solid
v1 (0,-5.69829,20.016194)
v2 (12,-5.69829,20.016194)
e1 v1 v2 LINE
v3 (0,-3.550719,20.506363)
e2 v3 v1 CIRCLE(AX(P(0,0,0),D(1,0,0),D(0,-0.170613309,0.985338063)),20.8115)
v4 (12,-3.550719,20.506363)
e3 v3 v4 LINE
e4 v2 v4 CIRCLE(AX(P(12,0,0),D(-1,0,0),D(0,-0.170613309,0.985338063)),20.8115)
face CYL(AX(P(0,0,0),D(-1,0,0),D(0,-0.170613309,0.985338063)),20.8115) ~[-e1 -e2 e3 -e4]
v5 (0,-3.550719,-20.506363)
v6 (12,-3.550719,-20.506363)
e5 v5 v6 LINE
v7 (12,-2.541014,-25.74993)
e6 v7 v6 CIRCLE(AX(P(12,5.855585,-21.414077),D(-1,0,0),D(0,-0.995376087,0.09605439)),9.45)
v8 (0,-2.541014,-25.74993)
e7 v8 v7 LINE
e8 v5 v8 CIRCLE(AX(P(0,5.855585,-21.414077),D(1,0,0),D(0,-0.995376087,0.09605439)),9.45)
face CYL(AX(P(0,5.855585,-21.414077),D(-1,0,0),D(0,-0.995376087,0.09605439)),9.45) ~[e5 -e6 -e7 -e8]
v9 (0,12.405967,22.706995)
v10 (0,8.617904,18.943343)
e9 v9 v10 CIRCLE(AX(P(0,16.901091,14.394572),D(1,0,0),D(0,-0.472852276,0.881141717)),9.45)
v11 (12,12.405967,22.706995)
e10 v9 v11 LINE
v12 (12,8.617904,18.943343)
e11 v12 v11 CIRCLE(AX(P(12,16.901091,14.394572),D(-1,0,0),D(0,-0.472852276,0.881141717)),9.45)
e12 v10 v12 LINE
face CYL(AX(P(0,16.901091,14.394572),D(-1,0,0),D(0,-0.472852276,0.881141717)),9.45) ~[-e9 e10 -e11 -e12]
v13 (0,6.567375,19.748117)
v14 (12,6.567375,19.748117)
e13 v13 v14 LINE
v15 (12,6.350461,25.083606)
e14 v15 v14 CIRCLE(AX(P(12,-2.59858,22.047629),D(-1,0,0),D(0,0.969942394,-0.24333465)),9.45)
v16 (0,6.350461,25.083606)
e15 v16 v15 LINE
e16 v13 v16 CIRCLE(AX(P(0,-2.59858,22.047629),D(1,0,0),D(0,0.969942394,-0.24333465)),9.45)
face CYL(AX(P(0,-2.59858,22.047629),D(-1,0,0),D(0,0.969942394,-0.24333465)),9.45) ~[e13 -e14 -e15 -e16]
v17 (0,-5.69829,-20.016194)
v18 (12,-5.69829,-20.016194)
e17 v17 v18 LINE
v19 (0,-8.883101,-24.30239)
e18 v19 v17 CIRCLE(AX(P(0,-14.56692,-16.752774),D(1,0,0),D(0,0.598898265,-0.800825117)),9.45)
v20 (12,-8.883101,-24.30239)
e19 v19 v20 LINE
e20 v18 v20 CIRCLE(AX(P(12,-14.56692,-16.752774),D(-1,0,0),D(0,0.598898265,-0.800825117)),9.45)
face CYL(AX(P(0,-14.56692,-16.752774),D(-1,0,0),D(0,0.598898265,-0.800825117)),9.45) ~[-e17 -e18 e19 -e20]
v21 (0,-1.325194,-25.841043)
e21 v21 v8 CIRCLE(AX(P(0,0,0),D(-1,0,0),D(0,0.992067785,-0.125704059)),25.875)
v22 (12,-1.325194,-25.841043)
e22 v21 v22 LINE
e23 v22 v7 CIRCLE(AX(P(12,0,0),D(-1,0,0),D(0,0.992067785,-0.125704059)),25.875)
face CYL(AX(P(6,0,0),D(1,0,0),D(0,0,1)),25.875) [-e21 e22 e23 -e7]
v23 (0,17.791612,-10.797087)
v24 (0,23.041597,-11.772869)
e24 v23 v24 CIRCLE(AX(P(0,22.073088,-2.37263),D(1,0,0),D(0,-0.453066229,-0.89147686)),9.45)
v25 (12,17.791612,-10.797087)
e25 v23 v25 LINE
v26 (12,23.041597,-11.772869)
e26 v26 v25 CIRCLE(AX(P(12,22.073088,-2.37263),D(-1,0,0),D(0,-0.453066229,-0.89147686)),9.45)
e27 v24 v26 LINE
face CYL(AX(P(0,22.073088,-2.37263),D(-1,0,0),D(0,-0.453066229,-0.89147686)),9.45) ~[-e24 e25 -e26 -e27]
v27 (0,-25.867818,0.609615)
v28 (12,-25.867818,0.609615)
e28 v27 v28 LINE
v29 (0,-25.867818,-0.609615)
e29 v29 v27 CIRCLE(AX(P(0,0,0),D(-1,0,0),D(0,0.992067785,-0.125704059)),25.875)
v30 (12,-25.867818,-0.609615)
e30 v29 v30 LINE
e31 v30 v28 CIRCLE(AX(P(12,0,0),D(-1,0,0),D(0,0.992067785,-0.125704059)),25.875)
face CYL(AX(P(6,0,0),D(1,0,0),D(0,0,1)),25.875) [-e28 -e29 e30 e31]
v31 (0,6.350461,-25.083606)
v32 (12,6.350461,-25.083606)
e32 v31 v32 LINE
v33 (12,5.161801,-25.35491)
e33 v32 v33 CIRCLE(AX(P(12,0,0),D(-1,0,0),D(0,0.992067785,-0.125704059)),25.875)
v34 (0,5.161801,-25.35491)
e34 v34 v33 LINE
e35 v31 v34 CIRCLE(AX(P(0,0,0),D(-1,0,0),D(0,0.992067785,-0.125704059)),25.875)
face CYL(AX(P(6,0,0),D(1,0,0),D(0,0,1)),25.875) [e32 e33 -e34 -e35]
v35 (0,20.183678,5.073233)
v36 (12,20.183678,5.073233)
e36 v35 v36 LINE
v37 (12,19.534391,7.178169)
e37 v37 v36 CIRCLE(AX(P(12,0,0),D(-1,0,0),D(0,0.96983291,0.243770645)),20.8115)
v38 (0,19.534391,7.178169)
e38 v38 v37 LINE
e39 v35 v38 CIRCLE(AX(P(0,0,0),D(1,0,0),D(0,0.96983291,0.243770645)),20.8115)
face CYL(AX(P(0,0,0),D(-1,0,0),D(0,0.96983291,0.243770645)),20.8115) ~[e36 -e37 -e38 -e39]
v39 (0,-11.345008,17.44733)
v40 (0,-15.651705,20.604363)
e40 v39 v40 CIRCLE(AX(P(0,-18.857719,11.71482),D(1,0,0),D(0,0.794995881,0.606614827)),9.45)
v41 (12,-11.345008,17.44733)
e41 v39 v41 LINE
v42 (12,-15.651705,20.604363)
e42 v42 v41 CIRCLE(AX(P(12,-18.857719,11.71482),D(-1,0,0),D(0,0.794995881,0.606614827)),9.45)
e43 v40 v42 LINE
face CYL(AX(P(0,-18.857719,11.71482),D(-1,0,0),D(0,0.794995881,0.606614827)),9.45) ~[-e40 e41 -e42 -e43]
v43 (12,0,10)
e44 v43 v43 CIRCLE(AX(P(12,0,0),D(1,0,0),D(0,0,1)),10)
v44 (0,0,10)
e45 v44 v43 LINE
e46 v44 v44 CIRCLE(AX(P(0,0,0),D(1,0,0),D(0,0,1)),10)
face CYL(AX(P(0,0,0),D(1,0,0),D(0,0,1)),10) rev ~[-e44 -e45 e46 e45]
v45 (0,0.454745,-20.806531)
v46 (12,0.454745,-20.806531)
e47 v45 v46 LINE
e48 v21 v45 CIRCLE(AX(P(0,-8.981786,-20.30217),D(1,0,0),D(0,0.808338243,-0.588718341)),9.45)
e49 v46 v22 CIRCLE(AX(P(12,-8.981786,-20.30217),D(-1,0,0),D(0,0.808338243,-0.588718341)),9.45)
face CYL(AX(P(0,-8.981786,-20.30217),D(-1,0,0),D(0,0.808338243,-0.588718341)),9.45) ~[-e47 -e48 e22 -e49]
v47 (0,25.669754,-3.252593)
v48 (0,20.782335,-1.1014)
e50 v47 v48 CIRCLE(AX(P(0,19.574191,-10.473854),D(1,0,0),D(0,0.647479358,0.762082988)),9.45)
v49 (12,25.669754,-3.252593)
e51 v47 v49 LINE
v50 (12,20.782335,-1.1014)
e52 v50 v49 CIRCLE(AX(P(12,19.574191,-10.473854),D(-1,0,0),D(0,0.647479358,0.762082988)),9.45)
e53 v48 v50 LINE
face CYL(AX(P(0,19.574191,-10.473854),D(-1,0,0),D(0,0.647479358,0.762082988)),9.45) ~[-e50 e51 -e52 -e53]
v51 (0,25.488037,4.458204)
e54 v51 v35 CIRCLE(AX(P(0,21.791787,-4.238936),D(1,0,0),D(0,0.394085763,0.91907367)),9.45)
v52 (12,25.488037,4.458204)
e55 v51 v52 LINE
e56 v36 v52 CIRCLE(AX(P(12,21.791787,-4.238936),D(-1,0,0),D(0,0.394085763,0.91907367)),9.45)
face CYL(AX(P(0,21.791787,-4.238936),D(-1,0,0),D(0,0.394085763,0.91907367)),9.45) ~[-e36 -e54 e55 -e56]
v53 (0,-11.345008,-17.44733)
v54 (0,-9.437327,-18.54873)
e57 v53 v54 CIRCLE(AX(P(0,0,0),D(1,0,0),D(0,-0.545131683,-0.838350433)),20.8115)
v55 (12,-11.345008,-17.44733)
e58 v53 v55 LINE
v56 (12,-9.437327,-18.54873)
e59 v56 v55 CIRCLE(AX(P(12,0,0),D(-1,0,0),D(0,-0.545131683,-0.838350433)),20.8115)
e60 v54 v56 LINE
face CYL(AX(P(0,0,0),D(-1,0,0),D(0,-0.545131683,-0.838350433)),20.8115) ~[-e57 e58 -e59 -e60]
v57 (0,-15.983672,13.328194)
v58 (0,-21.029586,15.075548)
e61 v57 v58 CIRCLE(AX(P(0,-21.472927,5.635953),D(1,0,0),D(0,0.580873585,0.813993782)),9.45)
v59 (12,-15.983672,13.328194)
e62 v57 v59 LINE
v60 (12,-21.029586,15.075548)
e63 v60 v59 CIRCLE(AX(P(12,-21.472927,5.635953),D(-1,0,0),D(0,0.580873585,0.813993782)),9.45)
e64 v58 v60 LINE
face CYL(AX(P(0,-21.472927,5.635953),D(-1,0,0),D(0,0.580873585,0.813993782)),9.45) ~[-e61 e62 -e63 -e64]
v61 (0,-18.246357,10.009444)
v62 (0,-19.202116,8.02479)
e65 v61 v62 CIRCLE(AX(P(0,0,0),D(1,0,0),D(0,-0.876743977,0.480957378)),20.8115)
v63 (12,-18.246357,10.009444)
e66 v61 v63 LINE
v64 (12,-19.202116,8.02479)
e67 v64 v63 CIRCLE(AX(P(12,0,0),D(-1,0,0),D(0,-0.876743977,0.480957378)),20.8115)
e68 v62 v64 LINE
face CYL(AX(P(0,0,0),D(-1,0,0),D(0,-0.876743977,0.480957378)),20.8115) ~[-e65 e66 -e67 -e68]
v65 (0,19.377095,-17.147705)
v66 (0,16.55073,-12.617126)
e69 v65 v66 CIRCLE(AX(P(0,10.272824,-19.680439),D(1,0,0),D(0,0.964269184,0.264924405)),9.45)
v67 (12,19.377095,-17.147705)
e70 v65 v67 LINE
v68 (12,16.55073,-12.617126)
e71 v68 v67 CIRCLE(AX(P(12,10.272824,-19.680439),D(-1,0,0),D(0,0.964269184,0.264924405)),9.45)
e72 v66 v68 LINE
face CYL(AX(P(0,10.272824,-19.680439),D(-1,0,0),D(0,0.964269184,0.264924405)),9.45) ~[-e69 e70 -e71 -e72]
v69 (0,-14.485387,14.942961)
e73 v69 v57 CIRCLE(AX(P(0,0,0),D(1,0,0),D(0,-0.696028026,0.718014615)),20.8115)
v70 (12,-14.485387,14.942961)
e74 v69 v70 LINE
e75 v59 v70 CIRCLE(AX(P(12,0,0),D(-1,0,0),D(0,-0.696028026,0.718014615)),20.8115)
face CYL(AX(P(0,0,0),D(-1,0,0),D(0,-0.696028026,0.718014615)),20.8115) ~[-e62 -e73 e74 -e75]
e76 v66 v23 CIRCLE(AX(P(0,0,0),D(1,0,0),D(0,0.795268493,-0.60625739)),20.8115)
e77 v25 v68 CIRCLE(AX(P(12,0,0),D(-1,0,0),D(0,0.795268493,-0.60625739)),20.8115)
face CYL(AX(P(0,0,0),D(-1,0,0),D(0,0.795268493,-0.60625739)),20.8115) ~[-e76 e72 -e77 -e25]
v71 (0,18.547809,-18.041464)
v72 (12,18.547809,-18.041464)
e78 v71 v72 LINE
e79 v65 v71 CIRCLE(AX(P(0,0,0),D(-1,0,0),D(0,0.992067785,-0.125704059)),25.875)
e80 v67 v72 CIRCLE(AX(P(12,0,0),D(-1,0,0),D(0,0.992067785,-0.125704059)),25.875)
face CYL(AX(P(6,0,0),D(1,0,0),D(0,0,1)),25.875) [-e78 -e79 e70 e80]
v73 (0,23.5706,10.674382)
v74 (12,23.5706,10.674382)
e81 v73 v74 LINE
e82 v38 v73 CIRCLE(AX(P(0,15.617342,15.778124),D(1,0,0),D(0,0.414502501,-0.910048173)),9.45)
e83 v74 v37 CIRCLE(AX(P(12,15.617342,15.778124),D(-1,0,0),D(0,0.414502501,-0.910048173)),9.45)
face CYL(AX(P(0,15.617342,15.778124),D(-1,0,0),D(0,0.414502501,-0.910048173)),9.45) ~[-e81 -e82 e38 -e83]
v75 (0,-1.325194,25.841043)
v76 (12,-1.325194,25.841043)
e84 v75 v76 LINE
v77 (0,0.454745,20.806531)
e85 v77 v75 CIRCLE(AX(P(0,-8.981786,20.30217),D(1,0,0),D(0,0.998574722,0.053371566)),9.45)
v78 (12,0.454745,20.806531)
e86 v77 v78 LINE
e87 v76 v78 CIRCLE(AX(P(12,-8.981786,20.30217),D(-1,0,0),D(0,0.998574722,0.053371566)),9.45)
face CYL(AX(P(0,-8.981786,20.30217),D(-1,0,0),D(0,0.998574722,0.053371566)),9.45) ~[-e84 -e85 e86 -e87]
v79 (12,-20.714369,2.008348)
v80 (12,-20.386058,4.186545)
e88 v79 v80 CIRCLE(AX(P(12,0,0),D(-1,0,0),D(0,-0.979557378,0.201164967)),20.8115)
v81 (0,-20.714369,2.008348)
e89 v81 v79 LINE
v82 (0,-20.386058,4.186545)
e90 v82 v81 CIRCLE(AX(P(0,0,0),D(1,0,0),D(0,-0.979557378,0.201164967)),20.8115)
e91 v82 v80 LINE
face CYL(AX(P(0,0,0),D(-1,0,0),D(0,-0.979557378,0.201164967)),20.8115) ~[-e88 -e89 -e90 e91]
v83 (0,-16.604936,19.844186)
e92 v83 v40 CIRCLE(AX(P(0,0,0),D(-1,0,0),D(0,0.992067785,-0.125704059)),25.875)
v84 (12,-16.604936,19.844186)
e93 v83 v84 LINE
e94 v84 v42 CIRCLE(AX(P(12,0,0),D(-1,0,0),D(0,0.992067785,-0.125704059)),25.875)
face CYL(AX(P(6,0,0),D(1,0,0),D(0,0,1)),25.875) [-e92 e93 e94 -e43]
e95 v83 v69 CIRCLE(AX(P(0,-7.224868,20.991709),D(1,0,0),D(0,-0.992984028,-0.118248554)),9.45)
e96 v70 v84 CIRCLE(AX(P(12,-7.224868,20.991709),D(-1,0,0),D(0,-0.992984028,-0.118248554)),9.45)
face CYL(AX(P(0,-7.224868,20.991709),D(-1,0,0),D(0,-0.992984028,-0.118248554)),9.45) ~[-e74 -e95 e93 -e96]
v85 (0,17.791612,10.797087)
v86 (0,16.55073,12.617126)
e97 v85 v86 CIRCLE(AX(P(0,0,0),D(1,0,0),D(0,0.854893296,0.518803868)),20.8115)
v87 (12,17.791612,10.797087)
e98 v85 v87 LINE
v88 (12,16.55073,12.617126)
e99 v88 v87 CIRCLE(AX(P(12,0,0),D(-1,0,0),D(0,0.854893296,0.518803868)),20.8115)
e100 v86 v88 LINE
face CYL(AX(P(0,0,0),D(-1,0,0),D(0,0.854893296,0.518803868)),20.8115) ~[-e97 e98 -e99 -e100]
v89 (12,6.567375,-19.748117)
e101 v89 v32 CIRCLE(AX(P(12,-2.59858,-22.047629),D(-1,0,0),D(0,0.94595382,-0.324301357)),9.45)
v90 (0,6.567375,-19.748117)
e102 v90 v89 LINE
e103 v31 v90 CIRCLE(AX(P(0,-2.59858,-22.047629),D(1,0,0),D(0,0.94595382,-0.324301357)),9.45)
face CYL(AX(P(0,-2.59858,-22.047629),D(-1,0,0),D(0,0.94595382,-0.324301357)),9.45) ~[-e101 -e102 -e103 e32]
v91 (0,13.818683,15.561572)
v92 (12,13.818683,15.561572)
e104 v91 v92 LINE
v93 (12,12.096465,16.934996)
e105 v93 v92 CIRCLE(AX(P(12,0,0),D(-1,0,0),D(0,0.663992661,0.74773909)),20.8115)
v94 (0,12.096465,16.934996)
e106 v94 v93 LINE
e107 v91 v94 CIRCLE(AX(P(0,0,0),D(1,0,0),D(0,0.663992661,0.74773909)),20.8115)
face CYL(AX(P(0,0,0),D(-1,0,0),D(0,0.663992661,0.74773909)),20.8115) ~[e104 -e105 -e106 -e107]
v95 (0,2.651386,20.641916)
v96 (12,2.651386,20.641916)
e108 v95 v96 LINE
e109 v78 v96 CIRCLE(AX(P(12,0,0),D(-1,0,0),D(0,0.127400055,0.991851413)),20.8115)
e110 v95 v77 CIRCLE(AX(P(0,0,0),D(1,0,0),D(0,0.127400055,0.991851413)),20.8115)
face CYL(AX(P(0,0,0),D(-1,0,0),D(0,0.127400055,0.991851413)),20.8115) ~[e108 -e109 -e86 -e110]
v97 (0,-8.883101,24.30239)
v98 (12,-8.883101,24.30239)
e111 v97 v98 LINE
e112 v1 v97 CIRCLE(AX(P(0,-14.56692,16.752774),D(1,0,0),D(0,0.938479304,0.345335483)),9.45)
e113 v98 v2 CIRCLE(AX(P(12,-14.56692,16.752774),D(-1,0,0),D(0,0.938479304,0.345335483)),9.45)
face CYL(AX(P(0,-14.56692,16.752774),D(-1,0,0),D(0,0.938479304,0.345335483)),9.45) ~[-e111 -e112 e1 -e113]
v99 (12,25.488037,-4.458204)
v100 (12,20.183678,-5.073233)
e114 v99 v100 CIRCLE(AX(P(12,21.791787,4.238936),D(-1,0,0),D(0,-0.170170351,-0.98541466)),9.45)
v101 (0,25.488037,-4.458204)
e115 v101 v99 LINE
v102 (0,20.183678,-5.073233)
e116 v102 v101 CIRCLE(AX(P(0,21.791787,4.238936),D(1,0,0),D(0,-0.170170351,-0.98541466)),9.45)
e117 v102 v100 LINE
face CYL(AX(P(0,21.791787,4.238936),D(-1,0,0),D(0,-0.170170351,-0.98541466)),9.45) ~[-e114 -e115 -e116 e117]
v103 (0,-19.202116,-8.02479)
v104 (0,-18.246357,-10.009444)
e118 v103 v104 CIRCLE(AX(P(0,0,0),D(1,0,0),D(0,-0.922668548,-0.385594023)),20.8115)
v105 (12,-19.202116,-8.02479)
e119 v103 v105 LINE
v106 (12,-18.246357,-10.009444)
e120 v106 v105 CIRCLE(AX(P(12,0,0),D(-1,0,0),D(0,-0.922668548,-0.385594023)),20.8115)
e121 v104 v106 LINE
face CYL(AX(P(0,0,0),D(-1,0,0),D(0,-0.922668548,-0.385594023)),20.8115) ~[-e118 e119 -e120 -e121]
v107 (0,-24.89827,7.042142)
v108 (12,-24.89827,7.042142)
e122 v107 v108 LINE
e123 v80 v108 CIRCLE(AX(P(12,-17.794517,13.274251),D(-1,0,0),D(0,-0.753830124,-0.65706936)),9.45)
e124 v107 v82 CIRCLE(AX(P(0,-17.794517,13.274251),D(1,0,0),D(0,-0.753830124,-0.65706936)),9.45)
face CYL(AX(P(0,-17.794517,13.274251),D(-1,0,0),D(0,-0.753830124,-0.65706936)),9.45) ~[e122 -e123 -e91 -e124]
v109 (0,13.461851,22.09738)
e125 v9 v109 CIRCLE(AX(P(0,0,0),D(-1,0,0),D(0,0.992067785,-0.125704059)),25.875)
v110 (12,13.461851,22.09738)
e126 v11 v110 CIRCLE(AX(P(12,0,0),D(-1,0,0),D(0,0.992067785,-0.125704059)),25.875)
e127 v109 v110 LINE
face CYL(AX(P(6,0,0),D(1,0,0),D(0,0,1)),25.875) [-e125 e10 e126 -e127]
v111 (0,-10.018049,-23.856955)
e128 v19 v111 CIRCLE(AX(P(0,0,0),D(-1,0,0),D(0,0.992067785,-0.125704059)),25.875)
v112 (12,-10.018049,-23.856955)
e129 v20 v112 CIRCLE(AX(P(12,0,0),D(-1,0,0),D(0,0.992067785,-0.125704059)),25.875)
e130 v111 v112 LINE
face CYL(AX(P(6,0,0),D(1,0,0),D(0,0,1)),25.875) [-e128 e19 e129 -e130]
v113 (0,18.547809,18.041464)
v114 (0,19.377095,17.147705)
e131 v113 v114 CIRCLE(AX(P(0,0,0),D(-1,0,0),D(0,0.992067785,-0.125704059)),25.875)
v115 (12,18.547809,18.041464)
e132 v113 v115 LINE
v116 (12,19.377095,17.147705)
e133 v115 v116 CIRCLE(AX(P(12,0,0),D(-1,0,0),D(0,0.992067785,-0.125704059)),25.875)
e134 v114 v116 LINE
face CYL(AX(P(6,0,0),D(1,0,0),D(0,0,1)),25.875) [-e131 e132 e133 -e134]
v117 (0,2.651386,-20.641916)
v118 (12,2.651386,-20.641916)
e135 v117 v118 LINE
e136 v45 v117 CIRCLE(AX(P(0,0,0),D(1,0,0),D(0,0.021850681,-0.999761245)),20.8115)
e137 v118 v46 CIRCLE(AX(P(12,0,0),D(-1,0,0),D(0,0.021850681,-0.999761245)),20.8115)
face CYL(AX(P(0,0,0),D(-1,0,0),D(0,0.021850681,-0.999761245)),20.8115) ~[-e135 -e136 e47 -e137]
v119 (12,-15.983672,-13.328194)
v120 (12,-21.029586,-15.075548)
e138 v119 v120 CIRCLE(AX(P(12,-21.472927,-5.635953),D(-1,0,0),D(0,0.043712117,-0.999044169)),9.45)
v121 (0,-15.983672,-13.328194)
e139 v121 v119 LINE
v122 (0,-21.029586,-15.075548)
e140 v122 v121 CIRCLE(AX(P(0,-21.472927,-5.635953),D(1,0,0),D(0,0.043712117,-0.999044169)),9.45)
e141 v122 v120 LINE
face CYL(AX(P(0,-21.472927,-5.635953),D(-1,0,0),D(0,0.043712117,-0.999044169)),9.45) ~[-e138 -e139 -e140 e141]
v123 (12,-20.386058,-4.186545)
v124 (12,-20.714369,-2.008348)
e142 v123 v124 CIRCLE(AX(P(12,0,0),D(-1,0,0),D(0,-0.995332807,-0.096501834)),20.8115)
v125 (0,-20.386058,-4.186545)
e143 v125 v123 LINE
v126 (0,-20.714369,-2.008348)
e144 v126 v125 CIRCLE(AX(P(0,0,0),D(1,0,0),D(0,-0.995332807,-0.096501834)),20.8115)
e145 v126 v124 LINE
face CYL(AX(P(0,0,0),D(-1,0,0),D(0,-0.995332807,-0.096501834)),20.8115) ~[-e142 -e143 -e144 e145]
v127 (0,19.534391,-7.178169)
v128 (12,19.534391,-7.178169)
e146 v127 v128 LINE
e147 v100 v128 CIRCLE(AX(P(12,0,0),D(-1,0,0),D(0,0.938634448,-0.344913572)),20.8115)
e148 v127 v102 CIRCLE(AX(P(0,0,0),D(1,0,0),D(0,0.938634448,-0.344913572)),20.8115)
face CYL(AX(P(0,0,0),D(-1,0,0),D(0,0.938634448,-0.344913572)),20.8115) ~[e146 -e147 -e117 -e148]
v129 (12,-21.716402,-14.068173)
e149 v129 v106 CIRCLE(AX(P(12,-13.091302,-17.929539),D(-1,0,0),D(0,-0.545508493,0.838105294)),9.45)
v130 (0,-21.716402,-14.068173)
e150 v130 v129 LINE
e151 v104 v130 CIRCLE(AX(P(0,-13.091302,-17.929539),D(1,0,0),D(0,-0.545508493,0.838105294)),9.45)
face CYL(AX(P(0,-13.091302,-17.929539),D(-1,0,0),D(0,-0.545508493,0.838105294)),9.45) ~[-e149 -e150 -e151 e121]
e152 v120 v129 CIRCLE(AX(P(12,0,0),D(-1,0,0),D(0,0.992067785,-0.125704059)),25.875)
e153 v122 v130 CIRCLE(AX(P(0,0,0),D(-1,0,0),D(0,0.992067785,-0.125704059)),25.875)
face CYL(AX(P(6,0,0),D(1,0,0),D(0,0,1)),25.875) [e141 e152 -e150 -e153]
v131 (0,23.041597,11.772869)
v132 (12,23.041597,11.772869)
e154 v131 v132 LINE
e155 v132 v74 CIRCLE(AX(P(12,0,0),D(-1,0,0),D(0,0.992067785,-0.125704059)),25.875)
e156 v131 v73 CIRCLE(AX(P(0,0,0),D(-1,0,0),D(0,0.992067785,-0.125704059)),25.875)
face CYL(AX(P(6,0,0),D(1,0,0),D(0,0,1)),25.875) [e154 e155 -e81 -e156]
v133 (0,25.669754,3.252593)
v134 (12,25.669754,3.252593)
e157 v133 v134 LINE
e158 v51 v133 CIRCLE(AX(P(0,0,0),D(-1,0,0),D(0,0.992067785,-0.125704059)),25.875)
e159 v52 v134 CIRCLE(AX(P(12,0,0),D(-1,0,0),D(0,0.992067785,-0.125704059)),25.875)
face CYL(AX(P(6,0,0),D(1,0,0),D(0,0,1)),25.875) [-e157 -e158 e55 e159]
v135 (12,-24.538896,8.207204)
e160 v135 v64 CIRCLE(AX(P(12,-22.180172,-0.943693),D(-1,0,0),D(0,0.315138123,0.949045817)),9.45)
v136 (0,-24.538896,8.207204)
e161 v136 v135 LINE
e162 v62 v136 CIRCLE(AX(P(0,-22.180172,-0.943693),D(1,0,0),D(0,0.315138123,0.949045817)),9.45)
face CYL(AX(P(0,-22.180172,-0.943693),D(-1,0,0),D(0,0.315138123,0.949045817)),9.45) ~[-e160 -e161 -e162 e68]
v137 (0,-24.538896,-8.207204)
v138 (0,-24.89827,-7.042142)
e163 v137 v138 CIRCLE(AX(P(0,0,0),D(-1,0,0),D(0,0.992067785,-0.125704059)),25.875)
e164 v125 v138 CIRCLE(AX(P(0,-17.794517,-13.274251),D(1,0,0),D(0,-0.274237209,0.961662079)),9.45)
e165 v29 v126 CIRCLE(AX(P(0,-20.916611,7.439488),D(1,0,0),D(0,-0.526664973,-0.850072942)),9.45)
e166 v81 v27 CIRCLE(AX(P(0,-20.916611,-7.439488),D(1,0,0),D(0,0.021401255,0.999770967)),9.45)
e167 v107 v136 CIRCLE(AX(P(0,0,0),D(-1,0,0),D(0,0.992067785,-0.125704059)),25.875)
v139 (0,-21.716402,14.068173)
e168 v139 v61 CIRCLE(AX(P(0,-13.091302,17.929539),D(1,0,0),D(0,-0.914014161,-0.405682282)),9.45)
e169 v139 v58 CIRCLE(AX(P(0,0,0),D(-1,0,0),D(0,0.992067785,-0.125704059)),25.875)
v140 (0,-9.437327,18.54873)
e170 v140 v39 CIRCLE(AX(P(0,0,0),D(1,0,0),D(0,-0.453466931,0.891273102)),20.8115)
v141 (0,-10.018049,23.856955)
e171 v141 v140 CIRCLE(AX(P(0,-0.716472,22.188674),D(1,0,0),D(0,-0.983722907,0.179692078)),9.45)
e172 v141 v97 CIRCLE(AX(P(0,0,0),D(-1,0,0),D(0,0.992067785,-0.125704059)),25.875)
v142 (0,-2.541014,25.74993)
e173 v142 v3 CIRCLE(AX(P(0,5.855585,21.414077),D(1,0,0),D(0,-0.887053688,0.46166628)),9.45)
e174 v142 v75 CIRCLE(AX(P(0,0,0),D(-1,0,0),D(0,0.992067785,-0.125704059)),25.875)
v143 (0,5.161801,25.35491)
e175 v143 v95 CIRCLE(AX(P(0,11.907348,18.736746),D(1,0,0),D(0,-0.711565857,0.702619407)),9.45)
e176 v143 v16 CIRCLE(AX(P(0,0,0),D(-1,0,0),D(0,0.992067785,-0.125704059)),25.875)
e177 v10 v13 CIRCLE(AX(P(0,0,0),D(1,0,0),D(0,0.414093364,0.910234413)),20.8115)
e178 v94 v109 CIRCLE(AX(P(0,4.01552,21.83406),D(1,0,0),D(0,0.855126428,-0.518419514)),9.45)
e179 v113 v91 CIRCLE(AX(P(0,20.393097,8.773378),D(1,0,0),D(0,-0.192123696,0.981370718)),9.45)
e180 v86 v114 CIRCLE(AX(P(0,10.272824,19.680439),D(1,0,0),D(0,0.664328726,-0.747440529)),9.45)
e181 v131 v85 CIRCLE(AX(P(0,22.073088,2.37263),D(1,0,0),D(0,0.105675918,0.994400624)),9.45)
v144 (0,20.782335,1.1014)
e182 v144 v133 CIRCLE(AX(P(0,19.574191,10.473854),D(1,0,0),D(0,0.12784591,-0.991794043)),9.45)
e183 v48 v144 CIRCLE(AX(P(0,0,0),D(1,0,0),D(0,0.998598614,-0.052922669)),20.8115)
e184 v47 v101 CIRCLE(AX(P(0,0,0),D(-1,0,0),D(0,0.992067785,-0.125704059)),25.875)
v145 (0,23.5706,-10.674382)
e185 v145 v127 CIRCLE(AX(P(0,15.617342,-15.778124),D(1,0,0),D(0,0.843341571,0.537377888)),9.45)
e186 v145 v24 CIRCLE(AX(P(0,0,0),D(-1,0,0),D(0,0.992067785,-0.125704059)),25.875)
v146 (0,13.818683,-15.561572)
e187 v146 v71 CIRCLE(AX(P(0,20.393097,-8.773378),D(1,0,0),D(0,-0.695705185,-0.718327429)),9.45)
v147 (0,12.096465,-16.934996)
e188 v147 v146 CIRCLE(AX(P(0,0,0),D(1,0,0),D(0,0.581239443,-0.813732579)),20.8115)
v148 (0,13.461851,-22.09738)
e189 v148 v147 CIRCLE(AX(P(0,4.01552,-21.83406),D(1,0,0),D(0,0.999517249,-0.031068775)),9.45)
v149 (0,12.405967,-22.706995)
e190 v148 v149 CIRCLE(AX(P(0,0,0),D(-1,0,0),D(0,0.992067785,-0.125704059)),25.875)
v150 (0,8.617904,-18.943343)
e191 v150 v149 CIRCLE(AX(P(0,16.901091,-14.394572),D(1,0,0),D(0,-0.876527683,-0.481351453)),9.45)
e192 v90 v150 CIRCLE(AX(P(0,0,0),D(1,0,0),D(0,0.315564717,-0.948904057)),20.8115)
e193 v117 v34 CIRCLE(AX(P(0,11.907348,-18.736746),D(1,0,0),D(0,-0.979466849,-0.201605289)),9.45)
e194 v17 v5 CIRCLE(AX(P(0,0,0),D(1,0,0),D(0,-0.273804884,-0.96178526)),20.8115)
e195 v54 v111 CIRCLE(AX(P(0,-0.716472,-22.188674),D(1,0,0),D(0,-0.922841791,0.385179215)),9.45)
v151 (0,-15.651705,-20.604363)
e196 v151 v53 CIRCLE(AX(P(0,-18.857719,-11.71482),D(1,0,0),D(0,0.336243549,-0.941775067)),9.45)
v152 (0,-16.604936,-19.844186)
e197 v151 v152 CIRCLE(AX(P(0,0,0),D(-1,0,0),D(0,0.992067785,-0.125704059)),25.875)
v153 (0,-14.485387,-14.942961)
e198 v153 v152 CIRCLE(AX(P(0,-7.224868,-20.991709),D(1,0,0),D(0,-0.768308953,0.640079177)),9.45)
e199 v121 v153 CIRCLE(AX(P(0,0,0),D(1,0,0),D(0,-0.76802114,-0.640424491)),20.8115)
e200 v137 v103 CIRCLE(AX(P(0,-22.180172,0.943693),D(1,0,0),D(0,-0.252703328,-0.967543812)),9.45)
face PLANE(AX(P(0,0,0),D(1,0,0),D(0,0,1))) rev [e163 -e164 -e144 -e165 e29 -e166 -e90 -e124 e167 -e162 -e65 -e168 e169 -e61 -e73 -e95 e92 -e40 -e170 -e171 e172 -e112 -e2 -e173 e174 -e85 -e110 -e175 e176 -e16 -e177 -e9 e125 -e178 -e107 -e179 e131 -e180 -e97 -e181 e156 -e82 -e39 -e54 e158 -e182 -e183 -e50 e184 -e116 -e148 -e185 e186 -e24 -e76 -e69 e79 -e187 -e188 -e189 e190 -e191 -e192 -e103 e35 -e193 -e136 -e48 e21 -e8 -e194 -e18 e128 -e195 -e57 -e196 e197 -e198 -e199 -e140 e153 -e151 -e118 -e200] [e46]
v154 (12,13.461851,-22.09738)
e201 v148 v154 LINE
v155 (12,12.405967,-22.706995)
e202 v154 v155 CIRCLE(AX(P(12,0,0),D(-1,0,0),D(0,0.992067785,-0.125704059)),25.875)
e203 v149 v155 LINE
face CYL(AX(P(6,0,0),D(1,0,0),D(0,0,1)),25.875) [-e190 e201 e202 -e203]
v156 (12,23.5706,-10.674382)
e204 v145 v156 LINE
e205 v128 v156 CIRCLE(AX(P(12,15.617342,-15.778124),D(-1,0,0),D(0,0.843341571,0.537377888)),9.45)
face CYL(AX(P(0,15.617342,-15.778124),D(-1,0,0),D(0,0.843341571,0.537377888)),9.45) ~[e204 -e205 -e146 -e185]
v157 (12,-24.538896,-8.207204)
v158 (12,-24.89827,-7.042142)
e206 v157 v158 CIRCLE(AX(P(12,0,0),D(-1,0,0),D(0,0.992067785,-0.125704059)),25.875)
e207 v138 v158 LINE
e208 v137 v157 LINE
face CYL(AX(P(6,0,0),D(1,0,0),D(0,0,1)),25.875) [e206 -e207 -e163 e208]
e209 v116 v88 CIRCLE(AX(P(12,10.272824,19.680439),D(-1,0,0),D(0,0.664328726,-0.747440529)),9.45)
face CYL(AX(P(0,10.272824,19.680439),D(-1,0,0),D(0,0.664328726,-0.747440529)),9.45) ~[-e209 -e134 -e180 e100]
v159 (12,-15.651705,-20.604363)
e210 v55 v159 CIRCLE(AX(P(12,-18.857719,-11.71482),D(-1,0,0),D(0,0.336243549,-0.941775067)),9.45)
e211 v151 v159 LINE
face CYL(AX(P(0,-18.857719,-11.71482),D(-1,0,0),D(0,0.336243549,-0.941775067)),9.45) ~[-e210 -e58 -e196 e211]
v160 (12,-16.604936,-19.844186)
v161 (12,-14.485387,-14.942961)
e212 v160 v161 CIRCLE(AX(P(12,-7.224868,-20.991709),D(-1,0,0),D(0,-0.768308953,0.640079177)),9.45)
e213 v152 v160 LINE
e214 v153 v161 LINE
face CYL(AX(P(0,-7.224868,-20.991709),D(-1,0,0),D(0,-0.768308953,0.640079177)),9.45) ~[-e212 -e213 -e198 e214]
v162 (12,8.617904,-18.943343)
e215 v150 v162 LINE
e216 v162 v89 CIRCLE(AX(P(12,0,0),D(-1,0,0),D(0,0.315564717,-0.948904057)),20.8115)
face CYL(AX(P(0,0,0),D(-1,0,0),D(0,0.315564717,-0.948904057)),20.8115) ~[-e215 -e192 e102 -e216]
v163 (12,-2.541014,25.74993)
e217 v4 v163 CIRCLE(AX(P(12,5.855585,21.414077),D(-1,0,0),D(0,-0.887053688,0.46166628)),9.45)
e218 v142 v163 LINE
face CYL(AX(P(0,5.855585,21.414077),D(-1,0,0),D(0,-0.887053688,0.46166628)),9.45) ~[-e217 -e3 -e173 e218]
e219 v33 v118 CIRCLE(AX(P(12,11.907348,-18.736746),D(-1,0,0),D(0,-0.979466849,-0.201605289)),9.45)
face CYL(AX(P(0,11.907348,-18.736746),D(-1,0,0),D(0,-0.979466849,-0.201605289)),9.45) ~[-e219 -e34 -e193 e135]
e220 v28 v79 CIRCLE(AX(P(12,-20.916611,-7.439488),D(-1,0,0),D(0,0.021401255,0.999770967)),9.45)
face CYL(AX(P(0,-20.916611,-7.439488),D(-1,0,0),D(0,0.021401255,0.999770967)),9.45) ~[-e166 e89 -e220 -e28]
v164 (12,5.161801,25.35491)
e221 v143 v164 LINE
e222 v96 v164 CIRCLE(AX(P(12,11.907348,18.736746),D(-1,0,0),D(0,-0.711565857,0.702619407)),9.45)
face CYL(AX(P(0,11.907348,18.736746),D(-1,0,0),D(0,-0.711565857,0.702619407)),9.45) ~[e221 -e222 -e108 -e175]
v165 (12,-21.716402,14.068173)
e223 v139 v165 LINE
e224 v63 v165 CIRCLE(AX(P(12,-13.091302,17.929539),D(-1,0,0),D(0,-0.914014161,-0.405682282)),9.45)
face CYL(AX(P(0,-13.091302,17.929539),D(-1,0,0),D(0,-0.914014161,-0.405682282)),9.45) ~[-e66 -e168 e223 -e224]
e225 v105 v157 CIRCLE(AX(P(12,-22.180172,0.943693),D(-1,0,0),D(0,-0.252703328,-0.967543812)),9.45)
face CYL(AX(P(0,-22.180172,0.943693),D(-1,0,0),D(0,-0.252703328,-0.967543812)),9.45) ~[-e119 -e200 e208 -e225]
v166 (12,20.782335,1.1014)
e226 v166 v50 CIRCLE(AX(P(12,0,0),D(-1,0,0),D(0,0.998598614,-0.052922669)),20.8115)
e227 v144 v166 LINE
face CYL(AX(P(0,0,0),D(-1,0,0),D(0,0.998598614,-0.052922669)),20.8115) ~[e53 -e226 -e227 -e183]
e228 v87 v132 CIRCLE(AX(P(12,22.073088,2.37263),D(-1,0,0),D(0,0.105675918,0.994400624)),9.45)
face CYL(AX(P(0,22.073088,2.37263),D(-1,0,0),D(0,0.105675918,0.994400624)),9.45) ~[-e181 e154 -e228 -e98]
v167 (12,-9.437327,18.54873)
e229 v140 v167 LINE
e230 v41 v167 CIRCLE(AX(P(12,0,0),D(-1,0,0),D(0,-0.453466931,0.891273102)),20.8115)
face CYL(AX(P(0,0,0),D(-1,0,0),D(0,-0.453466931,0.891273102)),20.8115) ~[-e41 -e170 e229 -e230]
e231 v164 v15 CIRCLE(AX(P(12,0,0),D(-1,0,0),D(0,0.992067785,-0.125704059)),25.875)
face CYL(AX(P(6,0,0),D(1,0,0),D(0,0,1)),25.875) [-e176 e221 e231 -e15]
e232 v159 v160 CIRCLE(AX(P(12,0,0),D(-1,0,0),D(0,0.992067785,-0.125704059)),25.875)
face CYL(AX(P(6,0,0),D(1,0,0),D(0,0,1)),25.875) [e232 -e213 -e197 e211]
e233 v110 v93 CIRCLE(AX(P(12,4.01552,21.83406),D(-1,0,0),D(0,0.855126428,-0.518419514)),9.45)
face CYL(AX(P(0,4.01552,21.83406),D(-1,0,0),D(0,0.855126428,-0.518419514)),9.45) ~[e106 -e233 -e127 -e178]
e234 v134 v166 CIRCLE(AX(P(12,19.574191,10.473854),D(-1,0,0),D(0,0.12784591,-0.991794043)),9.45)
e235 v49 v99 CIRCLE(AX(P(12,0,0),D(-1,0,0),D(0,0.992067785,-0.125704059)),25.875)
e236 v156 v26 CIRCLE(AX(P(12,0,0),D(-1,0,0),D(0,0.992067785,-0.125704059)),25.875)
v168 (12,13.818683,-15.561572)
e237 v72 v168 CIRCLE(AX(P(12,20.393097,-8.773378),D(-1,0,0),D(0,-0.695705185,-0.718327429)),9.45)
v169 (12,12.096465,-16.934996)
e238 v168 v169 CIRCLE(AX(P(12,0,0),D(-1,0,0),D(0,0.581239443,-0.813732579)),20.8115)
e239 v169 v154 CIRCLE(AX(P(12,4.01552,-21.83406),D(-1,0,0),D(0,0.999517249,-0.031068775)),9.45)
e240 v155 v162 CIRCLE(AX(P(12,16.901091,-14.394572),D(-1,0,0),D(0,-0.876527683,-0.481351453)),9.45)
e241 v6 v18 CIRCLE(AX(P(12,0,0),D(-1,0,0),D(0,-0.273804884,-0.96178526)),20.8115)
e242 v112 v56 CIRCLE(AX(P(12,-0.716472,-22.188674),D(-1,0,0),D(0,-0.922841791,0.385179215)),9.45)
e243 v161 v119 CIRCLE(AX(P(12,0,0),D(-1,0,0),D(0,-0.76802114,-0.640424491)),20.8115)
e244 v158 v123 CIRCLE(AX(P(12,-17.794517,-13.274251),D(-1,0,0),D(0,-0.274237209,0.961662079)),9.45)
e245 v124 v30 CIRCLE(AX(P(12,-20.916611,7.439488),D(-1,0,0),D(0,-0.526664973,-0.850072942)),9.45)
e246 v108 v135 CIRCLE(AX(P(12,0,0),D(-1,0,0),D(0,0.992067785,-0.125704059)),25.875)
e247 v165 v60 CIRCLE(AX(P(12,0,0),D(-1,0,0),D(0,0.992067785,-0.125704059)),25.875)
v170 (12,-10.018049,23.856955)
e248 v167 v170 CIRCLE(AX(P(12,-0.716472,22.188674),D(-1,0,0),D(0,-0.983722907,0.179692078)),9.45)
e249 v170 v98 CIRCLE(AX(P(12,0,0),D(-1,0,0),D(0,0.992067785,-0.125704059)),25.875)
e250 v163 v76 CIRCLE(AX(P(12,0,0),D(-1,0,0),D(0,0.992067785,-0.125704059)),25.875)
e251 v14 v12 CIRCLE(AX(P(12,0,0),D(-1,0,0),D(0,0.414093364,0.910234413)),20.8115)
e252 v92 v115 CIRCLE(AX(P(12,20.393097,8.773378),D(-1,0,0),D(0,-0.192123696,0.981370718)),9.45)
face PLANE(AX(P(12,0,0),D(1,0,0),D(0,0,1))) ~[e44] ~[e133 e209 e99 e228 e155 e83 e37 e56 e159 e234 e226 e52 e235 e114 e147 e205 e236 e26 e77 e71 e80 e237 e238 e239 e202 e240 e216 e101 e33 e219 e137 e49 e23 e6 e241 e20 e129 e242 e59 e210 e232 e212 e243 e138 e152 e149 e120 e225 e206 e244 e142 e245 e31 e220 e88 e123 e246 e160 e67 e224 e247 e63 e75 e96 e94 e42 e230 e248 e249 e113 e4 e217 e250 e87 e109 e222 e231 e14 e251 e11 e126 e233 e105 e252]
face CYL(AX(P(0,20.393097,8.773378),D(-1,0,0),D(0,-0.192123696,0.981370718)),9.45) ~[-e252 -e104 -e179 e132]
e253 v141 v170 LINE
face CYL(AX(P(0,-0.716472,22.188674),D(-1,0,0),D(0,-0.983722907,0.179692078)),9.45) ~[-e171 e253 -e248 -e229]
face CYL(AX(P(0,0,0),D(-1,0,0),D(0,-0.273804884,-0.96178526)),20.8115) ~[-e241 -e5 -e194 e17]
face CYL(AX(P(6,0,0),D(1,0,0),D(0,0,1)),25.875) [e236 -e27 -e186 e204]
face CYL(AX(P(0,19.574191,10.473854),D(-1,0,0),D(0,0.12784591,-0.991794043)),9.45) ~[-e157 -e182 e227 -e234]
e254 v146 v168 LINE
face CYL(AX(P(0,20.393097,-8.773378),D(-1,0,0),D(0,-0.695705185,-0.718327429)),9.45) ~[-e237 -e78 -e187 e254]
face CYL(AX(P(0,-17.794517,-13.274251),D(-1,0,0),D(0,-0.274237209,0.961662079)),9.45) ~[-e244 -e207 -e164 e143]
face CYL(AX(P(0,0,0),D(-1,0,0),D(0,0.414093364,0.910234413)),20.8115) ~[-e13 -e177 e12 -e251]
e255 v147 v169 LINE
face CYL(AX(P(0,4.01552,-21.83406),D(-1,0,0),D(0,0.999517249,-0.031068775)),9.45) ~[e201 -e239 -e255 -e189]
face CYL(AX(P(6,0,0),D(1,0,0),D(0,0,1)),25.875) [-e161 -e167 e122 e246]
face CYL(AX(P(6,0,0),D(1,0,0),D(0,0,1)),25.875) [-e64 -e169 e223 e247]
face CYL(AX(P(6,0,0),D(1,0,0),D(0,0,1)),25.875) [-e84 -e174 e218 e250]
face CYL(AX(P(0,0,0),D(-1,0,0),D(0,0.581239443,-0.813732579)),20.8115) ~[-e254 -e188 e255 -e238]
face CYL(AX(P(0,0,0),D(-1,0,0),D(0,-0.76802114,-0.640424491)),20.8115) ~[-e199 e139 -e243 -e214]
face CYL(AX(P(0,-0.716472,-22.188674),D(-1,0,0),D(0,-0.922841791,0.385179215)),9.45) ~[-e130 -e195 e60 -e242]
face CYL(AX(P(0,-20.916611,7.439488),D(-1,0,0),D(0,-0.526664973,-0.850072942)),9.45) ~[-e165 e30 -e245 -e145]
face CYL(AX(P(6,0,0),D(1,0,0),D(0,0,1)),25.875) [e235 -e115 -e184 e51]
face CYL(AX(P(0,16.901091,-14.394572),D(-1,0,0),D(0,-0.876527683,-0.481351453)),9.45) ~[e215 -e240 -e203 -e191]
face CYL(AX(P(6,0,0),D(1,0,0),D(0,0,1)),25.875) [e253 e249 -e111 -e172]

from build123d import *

# Parameters (mm, degrees)
BASPROSKE_W     = 12
BASPROSKE_H     = 25.875
TOOTHCUT_DEPTH  = 39.510144767
TEETHCUTS_COUNT = 21
TEETHCUTS_ANGLE = 342.857142857
BORSKE_R        = 10
BORE_DEPTH      = 50.0000508


with BuildPart() as part:
    # BasProSke → Base-Revolve (revolve)
    with BuildSketch(Plane(origin=(0, 0, 0), x_dir=(1, 0, 0), z_dir=(0, 1, 0)), mode=Mode.PRIVATE) as base_revolve_sk:
        with Locations((6, 12.9375)):
            Rectangle(BASPROSKE_W, BASPROSKE_H)
    revolve(base_revolve_sk.sketch.rotate(Axis((-10, 0, 0), (1, 0, 0)), 180), axis=Axis((-10, 0, 0), (1, 0, 0)))

    # TooCutSke → ToothCut (cut, through all)
    with BuildSketch(Plane(origin=(0, 0, 0), x_dir=(0, 0, -1), z_dir=(1, 0, 0))):
        with BuildLine():
            ThreePointArc((1.101400125, 20.782335047), (0, 20.8115), (-1.101400125, 20.782335047))
            ThreePointArc((-1.101400125, 20.782335047), (-1.83071474, 23.395008735), (-3.272169586, 25.692871119))
            ThreePointArc((-3.272169586, 25.692871119), (0, 25.9004), (3.272169586, 25.692871119))
            ThreePointArc((3.272169586, 25.692871119), (1.83071474, 23.395008735), (1.101400125, 20.782335047))
        make_face()
    toothcut = extrude(amount=TOOTHCUT_DEPTH, mode=Mode.SUBTRACT)

    # TeethCuts: ToothCut ×21 about axis
    teethcuts_axis = Axis((-10, 0, 0), (1, 0, 0))
    for i in range(1, TEETHCUTS_COUNT):
        add(toothcut.rotate(teethcuts_axis, i * TEETHCUTS_ANGLE / (TEETHCUTS_COUNT - 1)), mode=Mode.SUBTRACT)

    # BorSke → Bore (cut, symmetric)
    with BuildSketch(Plane(origin=(0, 0, 0), x_dir=(0, 0, -1), z_dir=(1, 0, 0))):
        with Locations(Location((0, 0, 0), (0, 0, 180))):
            Circle(BORSKE_R)
    extrude(amount=BORE_DEPTH, both=True, mode=Mode.SUBTRACT)


solid = part.part
